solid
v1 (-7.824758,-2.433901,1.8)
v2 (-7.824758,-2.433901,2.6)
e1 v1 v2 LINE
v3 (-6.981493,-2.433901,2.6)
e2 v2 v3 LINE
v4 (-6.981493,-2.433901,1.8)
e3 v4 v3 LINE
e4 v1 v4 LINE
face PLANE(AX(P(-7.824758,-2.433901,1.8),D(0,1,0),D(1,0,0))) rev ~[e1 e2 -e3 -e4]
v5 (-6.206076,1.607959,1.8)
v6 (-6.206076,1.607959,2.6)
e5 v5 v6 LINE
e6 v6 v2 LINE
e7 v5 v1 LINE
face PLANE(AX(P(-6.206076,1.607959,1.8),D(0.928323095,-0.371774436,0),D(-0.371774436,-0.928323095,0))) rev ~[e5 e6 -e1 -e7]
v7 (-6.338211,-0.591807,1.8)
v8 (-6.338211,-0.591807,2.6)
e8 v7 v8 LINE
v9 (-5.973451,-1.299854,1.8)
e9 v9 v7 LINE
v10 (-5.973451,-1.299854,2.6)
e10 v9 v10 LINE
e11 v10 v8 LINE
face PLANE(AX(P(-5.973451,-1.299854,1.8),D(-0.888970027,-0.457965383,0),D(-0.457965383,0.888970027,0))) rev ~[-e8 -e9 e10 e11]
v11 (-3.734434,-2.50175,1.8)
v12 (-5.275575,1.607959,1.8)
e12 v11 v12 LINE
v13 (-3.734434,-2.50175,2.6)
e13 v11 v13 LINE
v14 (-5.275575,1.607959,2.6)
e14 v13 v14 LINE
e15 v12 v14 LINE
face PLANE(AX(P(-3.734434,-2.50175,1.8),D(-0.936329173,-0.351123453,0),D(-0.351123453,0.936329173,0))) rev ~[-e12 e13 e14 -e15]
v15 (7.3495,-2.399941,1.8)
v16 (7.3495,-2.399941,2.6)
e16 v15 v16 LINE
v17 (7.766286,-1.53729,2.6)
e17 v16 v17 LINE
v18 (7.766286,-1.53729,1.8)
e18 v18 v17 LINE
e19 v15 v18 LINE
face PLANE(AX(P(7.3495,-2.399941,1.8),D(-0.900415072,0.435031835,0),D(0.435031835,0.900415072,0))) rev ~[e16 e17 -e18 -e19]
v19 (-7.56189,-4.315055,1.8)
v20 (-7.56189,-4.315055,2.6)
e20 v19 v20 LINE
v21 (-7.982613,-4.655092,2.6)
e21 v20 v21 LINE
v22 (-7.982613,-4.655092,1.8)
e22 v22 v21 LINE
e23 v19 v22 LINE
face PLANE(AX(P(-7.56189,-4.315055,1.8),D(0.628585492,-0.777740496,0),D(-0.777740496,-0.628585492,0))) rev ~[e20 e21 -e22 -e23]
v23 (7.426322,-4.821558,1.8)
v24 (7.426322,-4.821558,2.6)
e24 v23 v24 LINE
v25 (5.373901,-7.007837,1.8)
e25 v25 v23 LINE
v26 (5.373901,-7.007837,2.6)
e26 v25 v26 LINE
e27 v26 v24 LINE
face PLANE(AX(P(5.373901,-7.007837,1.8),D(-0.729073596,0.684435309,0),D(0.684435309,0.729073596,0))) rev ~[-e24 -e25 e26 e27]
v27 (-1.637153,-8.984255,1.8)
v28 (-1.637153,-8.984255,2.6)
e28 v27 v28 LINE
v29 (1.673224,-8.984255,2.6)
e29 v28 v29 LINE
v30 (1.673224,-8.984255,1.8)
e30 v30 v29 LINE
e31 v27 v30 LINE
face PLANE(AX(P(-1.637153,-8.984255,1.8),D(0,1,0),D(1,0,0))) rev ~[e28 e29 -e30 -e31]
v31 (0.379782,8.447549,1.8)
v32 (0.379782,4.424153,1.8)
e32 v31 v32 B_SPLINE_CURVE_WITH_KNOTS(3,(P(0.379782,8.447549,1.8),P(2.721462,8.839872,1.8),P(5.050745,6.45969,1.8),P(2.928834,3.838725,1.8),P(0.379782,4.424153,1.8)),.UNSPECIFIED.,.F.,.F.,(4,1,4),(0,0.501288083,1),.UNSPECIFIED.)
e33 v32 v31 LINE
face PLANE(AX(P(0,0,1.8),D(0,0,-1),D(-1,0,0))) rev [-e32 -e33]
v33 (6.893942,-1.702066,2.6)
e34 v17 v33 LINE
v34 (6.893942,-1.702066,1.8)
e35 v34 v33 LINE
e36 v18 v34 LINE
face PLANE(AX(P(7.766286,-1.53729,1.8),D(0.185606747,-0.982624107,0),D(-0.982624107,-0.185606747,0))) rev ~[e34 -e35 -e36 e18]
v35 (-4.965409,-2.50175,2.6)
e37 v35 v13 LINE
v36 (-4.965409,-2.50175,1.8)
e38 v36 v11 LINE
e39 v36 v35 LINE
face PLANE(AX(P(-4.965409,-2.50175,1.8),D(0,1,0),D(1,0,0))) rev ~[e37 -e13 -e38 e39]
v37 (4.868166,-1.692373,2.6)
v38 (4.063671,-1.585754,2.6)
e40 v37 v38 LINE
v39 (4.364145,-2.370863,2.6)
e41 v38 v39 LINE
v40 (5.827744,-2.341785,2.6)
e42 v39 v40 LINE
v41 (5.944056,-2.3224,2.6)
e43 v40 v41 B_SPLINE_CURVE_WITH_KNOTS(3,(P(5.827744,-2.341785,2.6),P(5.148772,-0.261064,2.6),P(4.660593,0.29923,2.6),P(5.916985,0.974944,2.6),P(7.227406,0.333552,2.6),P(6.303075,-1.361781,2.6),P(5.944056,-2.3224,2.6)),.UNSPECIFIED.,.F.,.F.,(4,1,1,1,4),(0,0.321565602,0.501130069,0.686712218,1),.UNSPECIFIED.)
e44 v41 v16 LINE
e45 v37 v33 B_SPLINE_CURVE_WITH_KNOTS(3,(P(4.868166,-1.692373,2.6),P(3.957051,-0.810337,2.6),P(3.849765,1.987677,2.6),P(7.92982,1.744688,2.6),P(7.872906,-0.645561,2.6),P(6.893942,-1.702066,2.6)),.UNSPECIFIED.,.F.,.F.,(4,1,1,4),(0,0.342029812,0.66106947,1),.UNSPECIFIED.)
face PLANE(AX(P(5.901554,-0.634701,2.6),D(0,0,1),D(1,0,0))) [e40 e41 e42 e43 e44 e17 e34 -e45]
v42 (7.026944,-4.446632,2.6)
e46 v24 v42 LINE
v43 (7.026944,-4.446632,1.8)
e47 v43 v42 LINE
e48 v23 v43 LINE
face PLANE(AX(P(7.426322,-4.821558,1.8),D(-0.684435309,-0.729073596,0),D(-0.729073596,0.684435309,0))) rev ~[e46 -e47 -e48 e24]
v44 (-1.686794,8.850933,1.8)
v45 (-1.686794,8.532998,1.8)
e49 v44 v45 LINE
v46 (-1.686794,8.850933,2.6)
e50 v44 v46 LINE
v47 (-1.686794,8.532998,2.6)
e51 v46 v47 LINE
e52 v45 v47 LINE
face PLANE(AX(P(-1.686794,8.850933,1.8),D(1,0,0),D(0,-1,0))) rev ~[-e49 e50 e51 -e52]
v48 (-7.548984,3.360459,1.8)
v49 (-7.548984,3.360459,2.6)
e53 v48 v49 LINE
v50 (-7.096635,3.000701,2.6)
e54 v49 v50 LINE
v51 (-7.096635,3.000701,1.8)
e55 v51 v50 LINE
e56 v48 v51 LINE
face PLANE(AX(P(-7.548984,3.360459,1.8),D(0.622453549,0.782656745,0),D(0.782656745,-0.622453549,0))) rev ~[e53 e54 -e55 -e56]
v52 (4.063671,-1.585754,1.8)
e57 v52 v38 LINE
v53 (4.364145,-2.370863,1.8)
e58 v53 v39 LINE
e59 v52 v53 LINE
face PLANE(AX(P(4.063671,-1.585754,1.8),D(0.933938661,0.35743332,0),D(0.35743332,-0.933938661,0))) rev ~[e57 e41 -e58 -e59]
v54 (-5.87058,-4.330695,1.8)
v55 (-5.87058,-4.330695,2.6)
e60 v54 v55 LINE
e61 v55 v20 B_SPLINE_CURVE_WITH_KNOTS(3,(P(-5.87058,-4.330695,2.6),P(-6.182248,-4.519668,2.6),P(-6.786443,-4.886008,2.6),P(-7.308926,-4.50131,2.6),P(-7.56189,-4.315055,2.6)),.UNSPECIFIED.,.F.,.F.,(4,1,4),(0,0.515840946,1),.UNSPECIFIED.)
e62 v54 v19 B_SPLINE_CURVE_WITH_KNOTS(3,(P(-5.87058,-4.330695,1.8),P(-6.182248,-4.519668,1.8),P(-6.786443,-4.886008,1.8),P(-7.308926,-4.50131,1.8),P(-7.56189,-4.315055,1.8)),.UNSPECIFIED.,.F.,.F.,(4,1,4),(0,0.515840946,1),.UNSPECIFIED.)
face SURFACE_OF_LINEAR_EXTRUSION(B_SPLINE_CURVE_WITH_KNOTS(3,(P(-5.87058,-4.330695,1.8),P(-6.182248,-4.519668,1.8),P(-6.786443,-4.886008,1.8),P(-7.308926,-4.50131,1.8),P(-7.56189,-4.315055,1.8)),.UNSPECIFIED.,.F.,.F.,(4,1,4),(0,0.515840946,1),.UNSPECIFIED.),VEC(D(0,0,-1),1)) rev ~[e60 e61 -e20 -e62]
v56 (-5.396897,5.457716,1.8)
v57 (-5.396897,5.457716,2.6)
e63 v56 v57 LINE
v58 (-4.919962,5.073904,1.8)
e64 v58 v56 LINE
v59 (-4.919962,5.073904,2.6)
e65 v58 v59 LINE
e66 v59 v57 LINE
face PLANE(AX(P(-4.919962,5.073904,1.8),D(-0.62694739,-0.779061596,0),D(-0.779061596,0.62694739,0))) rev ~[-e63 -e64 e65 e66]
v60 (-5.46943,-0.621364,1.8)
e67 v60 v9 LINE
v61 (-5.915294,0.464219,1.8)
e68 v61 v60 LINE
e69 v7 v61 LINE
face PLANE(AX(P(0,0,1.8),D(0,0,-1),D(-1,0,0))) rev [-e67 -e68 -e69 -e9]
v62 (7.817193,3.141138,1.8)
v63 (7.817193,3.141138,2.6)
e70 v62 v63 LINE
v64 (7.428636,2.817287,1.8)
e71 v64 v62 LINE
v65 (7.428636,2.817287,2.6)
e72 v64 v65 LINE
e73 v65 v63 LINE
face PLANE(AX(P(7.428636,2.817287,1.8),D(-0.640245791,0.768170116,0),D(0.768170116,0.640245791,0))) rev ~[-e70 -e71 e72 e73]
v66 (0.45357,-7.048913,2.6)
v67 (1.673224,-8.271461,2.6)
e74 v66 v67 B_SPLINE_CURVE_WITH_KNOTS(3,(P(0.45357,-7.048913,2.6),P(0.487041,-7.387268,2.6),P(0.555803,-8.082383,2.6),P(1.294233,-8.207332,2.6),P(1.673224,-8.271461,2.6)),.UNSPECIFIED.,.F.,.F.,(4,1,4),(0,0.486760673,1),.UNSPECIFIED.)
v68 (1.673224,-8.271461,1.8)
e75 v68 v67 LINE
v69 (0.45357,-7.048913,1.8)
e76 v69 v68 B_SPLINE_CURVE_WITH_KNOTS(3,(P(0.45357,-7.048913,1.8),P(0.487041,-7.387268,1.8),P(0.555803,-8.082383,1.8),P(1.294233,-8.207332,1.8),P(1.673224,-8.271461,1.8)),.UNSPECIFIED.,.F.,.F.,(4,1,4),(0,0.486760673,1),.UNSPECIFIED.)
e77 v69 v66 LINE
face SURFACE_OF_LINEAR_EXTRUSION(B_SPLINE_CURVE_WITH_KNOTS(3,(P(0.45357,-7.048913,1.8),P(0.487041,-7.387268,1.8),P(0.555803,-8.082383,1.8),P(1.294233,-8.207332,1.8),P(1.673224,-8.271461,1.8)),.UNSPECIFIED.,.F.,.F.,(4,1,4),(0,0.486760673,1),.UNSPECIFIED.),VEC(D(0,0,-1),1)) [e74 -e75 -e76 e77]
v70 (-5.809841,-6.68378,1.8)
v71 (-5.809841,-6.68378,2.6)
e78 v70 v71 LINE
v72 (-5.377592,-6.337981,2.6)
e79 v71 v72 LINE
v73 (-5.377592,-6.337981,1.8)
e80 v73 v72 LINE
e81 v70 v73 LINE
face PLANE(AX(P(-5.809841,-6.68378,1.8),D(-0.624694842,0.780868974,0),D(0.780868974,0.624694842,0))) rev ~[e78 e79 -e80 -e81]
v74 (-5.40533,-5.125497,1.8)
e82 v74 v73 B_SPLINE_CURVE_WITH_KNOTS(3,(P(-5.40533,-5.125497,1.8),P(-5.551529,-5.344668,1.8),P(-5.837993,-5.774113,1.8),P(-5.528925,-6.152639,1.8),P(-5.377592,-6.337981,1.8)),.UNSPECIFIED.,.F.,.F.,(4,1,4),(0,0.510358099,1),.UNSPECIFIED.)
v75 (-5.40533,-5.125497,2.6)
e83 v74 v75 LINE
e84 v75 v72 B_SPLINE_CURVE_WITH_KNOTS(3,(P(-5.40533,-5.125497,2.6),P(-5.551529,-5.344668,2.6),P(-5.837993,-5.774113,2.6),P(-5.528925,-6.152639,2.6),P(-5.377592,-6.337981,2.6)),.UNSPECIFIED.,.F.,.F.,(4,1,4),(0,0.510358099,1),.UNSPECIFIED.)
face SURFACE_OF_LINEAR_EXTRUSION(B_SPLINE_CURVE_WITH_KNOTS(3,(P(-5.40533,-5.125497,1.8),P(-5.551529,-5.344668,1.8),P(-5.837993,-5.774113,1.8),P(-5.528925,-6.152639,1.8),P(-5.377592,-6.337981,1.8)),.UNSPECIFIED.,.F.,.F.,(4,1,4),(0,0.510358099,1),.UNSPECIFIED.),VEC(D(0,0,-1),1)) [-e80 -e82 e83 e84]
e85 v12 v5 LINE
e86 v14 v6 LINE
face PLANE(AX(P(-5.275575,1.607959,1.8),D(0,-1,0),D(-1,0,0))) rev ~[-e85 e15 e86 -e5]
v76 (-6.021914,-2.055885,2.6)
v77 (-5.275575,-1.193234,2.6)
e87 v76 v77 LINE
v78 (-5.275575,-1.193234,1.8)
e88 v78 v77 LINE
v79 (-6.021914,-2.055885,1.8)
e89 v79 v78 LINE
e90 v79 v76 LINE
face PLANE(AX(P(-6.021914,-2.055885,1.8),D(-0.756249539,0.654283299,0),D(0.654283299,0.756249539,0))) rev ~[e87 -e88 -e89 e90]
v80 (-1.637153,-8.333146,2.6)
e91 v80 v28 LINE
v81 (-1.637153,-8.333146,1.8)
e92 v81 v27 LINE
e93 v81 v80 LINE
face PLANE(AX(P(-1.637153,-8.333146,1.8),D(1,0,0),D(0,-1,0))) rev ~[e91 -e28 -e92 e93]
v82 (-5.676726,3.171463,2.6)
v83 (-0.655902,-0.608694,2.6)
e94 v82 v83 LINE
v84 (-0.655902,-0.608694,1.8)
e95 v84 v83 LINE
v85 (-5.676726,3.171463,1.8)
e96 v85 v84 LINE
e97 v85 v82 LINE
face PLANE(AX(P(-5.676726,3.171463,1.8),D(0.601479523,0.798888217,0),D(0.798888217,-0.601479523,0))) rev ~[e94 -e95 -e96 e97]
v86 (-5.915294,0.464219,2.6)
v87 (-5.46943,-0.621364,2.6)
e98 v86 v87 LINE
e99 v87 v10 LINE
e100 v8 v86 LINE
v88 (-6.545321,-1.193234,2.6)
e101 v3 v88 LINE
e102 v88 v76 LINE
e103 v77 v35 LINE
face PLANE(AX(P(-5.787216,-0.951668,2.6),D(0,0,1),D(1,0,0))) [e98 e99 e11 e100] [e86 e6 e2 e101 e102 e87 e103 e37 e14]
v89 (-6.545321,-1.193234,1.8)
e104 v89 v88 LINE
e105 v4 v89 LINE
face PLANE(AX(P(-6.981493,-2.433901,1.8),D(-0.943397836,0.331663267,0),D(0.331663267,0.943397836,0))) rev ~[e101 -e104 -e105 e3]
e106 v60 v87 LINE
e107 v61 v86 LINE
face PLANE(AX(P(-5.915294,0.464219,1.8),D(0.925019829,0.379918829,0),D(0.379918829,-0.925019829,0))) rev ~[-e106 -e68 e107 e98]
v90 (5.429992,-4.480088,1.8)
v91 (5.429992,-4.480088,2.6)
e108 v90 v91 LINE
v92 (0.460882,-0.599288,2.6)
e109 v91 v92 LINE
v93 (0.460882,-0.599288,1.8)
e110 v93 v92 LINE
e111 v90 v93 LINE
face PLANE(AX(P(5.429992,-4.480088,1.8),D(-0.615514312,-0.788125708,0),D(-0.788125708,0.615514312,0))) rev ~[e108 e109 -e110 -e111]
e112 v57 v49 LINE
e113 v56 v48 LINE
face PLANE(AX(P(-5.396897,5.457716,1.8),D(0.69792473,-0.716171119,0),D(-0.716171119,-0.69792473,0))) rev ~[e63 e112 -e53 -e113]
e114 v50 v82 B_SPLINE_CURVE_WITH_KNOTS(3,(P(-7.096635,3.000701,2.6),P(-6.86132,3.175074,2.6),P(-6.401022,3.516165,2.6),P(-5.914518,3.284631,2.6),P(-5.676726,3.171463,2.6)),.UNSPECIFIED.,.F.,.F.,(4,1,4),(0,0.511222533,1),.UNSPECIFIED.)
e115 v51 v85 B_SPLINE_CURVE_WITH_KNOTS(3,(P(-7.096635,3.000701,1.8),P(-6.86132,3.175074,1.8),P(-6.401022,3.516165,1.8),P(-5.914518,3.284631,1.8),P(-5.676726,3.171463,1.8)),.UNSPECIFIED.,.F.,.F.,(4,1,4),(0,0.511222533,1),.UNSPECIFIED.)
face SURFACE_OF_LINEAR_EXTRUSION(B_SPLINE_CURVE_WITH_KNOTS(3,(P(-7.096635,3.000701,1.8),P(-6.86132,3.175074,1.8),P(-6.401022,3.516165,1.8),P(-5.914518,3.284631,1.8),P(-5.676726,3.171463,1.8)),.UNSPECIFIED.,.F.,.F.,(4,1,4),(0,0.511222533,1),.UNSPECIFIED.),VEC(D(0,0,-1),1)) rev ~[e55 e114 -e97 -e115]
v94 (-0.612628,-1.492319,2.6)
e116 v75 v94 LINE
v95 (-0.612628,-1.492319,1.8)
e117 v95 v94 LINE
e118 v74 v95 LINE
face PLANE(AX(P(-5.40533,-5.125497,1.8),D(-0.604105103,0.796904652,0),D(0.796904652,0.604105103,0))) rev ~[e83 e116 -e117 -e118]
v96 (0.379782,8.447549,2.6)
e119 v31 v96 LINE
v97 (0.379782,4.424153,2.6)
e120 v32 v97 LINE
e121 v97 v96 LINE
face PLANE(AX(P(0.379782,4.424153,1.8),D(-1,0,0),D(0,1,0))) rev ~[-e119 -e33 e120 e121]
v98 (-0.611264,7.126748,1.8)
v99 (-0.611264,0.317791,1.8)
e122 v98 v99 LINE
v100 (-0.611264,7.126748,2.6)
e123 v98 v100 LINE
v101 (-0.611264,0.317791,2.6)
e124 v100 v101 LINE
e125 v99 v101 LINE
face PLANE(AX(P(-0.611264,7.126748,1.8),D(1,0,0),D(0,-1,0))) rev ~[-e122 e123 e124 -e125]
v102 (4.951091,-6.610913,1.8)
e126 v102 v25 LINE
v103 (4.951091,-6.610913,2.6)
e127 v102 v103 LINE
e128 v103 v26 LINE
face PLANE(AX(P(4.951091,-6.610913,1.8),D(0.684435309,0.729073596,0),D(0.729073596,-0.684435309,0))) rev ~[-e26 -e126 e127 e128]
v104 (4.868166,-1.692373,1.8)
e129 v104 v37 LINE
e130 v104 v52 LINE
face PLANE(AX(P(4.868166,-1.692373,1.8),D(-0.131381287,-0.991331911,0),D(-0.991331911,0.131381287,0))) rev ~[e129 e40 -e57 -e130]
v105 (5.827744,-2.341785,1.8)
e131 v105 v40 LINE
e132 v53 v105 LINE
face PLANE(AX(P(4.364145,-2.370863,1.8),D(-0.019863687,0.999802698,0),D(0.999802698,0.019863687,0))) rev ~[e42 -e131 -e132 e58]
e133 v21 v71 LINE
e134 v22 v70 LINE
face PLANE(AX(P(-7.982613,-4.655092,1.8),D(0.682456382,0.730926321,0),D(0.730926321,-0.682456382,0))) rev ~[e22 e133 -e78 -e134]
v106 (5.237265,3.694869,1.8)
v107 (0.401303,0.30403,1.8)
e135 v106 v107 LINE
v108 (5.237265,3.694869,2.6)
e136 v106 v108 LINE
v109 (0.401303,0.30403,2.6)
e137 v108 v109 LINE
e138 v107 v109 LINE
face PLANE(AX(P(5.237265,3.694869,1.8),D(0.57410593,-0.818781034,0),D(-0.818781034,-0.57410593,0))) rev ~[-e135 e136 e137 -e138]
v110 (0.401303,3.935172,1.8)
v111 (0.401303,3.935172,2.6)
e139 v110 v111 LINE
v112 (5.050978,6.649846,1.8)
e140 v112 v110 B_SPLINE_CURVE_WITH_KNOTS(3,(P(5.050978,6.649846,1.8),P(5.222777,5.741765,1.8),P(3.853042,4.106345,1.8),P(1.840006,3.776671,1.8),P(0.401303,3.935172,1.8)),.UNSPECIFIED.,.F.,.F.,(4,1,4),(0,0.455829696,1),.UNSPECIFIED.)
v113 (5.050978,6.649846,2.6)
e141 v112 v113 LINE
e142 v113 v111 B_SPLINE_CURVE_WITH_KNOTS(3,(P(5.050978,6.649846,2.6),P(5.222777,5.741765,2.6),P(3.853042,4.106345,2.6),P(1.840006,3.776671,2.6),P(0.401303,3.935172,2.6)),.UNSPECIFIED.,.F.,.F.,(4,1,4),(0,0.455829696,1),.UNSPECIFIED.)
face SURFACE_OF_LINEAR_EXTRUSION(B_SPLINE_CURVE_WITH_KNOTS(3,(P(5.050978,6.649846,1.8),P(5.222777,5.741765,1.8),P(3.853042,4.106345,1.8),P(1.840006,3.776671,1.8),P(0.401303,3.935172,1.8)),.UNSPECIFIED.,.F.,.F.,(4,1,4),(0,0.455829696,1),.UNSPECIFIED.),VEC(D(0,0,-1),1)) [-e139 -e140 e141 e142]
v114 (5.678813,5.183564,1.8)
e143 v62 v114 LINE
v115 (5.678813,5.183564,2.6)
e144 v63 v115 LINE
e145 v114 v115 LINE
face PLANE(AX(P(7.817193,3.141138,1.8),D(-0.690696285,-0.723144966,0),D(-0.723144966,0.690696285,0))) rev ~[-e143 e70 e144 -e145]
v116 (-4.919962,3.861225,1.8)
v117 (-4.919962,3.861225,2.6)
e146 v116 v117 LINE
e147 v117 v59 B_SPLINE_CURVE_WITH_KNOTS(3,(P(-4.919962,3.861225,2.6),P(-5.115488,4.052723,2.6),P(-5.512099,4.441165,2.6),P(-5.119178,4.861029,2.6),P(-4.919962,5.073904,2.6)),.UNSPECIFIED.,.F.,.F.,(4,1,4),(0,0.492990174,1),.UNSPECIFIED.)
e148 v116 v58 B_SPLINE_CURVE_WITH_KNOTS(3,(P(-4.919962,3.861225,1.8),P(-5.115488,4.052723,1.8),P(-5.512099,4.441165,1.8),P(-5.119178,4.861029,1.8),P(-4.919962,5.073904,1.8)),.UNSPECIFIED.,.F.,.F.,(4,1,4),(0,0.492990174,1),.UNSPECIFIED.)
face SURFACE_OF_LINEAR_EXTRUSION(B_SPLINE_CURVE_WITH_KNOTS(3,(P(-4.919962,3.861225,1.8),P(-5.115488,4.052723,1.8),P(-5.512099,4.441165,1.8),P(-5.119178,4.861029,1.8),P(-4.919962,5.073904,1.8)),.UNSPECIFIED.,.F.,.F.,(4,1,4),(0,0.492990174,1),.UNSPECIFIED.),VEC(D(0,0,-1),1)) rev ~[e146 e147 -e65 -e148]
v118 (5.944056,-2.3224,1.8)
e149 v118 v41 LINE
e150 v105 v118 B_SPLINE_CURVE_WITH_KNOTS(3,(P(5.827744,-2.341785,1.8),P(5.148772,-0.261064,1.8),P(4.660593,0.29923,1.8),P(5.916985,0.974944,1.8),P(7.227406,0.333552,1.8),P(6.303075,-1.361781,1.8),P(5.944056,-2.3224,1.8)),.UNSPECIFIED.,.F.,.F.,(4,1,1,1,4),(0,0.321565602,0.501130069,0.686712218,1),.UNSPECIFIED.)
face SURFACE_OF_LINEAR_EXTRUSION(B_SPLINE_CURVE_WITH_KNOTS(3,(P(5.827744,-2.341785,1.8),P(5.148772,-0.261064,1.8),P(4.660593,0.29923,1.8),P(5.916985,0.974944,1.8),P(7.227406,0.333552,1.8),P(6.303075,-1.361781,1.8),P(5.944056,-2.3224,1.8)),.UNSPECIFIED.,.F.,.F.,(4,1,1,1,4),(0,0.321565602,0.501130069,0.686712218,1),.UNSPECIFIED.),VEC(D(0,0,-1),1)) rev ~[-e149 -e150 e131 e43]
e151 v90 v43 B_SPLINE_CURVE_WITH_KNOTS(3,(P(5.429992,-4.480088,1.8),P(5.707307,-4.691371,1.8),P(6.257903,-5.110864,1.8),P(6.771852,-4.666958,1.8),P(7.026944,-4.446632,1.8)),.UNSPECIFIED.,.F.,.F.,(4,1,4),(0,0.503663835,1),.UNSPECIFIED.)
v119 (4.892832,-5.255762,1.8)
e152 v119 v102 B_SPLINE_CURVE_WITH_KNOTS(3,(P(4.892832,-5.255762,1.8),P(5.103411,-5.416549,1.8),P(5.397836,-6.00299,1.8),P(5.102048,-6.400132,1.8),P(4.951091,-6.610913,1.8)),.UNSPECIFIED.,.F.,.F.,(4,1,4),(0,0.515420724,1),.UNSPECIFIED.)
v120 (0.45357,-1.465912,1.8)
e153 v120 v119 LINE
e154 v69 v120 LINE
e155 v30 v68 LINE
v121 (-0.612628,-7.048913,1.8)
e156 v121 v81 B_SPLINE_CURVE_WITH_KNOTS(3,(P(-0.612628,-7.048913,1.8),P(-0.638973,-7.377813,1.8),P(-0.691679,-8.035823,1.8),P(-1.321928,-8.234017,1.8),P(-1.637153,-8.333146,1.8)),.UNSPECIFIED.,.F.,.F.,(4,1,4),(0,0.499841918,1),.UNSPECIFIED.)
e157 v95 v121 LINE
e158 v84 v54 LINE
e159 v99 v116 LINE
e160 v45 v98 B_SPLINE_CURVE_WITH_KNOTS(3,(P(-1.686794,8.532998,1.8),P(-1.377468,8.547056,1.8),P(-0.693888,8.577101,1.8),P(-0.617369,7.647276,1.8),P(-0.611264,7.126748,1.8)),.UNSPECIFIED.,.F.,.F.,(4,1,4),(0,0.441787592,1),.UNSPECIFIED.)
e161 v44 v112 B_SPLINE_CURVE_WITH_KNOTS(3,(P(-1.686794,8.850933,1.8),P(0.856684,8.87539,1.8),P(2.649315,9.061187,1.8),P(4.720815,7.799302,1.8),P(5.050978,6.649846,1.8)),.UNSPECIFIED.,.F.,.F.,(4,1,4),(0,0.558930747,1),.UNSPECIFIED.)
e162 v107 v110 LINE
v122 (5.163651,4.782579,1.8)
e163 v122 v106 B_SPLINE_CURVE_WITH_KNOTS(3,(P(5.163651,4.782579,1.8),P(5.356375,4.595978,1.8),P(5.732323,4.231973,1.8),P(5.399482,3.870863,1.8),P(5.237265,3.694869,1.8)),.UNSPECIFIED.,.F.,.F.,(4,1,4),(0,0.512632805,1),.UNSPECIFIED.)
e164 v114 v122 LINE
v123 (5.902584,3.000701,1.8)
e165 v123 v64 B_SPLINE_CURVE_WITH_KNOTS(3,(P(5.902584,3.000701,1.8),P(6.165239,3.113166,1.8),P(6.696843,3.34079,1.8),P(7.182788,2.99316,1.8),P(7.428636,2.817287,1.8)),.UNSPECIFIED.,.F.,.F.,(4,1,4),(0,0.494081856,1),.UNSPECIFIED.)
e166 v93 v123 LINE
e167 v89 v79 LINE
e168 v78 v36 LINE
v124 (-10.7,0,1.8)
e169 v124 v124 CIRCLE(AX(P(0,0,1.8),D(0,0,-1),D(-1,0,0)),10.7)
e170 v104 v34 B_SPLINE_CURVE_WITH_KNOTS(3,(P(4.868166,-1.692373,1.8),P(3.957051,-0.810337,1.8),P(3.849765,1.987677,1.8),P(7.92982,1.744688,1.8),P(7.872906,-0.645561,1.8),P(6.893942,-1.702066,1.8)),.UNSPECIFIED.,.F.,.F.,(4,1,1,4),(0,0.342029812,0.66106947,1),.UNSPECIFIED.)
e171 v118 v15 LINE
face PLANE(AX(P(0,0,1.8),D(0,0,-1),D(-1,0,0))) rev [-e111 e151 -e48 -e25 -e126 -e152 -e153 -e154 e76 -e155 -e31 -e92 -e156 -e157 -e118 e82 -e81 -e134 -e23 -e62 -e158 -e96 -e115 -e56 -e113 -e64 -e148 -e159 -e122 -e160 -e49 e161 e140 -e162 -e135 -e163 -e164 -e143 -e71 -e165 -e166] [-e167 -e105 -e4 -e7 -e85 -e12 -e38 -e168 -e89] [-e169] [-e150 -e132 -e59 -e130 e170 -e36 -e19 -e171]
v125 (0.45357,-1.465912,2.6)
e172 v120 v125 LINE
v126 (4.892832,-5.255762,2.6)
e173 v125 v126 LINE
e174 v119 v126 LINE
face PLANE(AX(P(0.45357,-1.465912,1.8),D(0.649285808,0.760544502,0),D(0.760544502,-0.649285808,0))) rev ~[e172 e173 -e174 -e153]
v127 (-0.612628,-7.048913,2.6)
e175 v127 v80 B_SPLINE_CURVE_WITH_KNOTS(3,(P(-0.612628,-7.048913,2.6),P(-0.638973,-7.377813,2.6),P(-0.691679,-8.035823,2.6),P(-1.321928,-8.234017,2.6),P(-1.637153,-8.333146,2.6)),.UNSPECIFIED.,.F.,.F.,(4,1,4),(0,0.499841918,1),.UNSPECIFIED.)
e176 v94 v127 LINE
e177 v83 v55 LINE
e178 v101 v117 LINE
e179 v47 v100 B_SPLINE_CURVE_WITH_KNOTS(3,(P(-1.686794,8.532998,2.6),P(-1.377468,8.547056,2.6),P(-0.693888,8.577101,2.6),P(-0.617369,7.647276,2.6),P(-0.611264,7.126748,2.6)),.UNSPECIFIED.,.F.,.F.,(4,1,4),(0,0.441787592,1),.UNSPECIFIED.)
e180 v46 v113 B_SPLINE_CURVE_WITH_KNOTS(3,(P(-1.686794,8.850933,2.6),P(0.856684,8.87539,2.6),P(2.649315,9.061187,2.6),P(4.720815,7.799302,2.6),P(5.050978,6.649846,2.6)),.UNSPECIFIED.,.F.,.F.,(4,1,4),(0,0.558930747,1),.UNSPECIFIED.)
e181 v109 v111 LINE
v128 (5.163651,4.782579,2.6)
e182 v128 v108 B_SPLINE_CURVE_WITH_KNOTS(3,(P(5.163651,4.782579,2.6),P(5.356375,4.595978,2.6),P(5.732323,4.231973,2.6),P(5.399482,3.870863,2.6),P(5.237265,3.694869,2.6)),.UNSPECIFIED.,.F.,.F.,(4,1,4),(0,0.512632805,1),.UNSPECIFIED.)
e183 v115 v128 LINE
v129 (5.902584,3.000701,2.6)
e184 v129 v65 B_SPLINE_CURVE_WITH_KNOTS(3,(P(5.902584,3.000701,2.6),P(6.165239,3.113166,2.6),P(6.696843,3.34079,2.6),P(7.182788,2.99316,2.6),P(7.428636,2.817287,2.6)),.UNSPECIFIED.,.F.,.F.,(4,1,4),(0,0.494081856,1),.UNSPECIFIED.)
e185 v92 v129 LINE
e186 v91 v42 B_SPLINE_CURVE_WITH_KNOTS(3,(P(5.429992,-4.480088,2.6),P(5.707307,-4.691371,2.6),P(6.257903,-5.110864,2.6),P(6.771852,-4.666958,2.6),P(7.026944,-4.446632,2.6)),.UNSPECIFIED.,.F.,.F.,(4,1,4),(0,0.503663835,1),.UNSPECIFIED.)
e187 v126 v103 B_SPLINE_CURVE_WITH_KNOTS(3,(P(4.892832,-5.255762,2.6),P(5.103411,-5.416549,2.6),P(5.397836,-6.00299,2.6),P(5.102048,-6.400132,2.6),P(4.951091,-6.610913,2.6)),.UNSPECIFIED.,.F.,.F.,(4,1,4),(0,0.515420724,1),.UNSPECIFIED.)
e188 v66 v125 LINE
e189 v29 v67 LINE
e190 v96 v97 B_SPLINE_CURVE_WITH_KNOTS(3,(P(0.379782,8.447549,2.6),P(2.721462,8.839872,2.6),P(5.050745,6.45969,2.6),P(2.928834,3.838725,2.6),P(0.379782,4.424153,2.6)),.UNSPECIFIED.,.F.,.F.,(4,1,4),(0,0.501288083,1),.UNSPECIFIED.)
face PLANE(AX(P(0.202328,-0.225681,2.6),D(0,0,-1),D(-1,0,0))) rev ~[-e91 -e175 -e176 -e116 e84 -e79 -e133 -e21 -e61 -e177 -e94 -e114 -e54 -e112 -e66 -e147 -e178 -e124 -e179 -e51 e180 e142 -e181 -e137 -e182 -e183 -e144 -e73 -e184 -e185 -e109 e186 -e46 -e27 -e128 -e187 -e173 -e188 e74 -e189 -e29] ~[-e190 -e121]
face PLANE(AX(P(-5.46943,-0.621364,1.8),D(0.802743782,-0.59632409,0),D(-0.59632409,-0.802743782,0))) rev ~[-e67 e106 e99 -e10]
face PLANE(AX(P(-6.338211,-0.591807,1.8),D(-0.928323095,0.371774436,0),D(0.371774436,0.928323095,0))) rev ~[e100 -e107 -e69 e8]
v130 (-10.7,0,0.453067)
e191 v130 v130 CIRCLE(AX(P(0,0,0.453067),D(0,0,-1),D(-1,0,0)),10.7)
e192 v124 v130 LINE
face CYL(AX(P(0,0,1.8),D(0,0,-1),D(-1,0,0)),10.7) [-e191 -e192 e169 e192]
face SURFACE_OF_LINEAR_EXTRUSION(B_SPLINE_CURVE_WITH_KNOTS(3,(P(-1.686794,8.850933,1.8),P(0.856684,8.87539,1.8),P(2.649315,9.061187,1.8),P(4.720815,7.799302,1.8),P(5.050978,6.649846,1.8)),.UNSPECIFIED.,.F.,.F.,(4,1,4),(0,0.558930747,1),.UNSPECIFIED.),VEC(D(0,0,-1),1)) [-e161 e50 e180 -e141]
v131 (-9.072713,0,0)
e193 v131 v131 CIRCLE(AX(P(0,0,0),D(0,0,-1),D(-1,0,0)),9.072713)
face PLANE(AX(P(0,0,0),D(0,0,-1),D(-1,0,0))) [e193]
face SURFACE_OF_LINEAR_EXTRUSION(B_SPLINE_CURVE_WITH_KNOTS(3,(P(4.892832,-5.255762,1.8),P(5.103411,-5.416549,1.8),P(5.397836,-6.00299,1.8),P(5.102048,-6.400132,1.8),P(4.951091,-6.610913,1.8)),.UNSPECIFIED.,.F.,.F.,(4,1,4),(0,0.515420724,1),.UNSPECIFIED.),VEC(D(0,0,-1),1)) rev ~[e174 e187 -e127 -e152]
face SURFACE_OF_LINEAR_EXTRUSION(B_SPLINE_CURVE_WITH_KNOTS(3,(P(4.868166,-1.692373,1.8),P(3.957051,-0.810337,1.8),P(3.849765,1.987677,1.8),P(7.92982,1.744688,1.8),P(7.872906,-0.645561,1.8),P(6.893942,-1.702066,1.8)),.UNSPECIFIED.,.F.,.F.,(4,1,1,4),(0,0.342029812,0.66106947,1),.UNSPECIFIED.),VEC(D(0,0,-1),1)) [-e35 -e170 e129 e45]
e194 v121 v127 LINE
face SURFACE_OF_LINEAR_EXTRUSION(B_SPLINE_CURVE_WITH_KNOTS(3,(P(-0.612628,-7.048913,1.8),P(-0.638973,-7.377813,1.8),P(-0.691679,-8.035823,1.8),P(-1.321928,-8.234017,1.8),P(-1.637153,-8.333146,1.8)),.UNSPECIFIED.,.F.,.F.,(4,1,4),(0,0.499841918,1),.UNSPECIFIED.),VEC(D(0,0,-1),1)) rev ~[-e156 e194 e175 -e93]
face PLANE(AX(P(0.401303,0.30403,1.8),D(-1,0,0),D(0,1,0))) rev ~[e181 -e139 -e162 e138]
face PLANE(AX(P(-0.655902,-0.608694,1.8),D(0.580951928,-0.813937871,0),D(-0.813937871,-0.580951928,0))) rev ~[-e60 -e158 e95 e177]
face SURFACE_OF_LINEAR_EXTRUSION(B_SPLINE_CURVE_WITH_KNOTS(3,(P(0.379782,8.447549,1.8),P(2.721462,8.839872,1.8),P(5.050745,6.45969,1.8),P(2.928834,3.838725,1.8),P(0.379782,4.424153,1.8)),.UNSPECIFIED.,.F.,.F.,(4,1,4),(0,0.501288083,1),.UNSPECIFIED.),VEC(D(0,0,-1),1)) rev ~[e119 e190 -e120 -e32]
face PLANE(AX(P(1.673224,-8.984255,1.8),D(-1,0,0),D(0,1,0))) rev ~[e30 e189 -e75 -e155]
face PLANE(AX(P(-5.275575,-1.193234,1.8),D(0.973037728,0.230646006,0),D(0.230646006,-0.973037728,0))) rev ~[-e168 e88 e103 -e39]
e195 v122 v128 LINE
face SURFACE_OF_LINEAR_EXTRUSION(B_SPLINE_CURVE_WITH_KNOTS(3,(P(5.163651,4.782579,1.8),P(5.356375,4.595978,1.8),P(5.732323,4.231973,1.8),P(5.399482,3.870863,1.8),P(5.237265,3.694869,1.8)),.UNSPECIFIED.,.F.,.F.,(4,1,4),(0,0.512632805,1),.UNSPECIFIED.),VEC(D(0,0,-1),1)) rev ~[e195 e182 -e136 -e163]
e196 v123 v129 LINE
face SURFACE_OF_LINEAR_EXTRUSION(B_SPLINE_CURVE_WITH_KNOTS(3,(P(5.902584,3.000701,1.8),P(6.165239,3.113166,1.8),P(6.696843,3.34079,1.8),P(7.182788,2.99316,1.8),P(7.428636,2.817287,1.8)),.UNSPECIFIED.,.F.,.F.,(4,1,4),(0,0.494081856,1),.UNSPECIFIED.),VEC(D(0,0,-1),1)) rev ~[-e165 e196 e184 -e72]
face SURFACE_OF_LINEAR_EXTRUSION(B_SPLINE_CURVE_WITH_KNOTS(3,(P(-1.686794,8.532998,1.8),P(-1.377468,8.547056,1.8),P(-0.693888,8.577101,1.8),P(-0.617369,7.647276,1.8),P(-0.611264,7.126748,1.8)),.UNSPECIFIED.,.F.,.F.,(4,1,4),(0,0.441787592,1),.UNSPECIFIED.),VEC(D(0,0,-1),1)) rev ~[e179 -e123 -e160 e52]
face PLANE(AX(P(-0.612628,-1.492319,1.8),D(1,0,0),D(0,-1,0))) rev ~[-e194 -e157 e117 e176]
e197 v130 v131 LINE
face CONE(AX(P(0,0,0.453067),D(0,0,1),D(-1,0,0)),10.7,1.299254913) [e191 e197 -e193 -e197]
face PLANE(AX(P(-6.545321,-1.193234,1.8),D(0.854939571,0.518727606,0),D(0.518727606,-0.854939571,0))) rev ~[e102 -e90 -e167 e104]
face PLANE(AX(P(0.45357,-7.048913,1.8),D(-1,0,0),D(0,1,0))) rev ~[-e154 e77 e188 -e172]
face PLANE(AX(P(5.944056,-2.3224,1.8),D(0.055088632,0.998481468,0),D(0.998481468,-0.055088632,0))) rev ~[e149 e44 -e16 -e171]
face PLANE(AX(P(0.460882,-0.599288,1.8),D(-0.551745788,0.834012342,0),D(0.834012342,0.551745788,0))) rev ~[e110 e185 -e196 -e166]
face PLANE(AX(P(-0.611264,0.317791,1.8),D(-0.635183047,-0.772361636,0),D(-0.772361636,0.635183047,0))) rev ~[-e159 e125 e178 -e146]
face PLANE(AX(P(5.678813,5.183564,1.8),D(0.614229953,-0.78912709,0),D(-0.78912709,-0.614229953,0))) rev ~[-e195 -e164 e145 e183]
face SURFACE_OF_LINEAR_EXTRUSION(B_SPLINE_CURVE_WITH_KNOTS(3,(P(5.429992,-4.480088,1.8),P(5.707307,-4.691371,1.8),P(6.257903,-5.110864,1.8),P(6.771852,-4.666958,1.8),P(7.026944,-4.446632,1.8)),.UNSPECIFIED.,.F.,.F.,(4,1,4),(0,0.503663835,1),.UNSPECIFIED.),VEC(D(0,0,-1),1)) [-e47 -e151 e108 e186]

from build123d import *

# Parameters (mm, degrees)
F3_DEPTH = 0.8


with BuildPart() as f1:
    # F0 (on Front) → F1 (revolve)
    with BuildSketch(Plane.XZ):
        Polygon((0, 1.8), (-10.7, 1.8), (-10.7, 0.4530665231), (-9.0727129846, 0), (0, 0), align=None)
    revolve(axis=Axis((0, 0, 1.1966938619), (0, 0, -1)))

    # F2 (on face) → F3 (join)
    with BuildSketch(Plane.XY.offset(1.8)):
        with BuildLine():
            add(Edge.make_bspline(
                [(-1.6867941013, 8.8509330526), (0.8566841716, 8.8753895834), (2.649315499, 9.0611870259), (4.7208145261, 7.7993022278), (5.050977692, 6.6498457454)],
                knots=[0, 0, 0, 0, 0.5589307471, 1, 1, 1, 1], degree=3))
            Line((-1.6867941013, 8.8509330526), (-1.6867941013, 8.5329981521))
            add(Edge.make_bspline(
                [(-1.6867941013, 8.5329981521), (-1.3774677293, 8.5470557254), (-0.6938875858, 8.5771007031), (-0.6173685214, 7.6472761807), (-0.6112642586, 7.1267476305)],
                knots=[0, 0, 0, 0, 0.441787592, 1, 1, 1, 1], degree=3))
            Line((-0.6112642586, 7.1267476305), (-0.6112642586, 0.3177910403))
            Line((-0.6112642586, 0.3177910403), (-4.9199624918, 3.8612245116))
            add(Edge.make_bspline(
                [(-4.9199624918, 3.8612245116), (-5.1154879855, 4.0527227146), (-5.5120993261, 4.4411649455), (-5.1191776451, 4.8610289061), (-4.9199624918, 5.0739040598)],
                knots=[0, 0, 0, 0, 0.4929901738, 1, 1, 1, 1], degree=3))
            Line((-4.9199624918, 5.0739040598), (-5.3968969733, 5.457715597))
            Line((-5.3968969733, 5.457715597), (-7.5489841402, 3.3604586497))
            Line((-7.5489841402, 3.3604586497), (-7.0966347121, 3.000701312))
            add(Edge.make_bspline(
                [(-7.0966347121, 3.000701312), (-6.8613198471, 3.1750743352), (-6.4010215426, 3.5161645889), (-5.9145178984, 3.2846312905), (-5.6767258793, 3.1714630313)],
                knots=[0, 0, 0, 0, 0.5112225325, 1, 1, 1, 1], degree=3))
            Line((-5.6767258793, 3.1714630313), (-0.6559019093, -0.6086938665))
            Line((-0.6559019093, -0.6086938665), (-5.8705802076, -4.3306946754))
            add(Edge.make_bspline(
                [(-5.8705802076, -4.3306946754), (-6.1822484494, -4.5196679636), (-6.7864429099, -4.8860081888), (-7.308925656, -4.5013103723), (-7.5618904084, -4.3150554411)],
                knots=[0, 0, 0, 0, 0.5158409455, 1, 1, 1, 1], degree=3))
            Line((-7.5618904084, -4.3150554411), (-7.9826125875, -4.6550915577))
            Line((-7.9826125875, -4.6550915577), (-5.8098412119, -6.6837798804))
            Line((-5.8098412119, -6.6837798804), (-5.3775920533, -6.3379807398))
            add(Edge.make_bspline(
                [(-5.4053300992, -5.1254965365), (-5.5515290524, -5.3446676224), (-5.8379925252, -5.7741133125), (-5.5289246402, -6.1526388002), (-5.3775920533, -6.3379807398)],
                knots=[0, 0, 0, 0, 0.5103580985, 1, 1, 1, 1], degree=3))
            Line((-5.4053300992, -5.1254965365), (-0.6126278895, -1.4923192712))
            Line((-0.6126278895, -1.4923192712), (-0.6126278895, -7.048912812))
            add(Edge.make_bspline(
                [(-0.6126278895, -7.048912812), (-0.6389726569, -7.377813444), (-0.6916788554, -8.0358227462), (-1.3219282839, -8.234017122), (-1.637152629, -8.3331456408)],
                knots=[0, 0, 0, 0, 0.4998419184, 1, 1, 1, 1], degree=3))
            Line((-1.637152629, -8.3331456408), (-1.637152629, -8.9842546731))
            Line((-1.637152629, -8.9842546731), (1.6732236836, -8.9842546731))
            Line((1.6732236836, -8.9842546731), (1.6732236836, -8.2714613527))
            add(Edge.make_bspline(
                [(0.4535702465, -7.048912812), (0.4870410433, -7.3872676951), (0.5558033707, -8.0823831835), (1.2942327078, -8.2073324667), (1.6732236836, -8.2714613527)],
                knots=[0, 0, 0, 0, 0.4867606733, 1, 1, 1, 1], degree=3))
            Line((0.4535702465, -7.048912812), (0.4535702465, -1.4659117442))
            Line((0.4535702465, -1.4659117442), (4.8928316683, -5.2557615563))
            add(Edge.make_bspline(
                [(4.8928316683, -5.2557615563), (5.103411153, -5.4165492766), (5.3978362889, -6.0029897915), (5.1020476496, -6.4001318691), (4.9510909234, -6.6109133504)],
                knots=[0, 0, 0, 0, 0.5154207237, 1, 1, 1, 1], degree=3))
            Line((4.9510909234, -6.6109133504), (5.3739010935, -7.0078365295))
            Line((5.3739010935, -7.0078365295), (7.4263224378, -4.8215580173))
            Line((7.4263224378, -4.8215580173), (7.0269443095, -4.4466322288))
            add(Edge.make_bspline(
                [(5.4299915209, -4.4800881296), (5.7073067114, -4.6913712485), (6.2579025081, -5.1108635847), (6.7718523941, -4.6669584172), (7.0269443095, -4.4466322288)],
                knots=[0, 0, 0, 0, 0.5036638351, 1, 1, 1, 1], degree=3))
            Line((5.4299915209, -4.4800881296), (0.4608821182, -0.5992884981))
            Line((0.4608821182, -0.5992884981), (5.9025837108, 3.000701312))
            add(Edge.make_bspline(
                [(5.9025837108, 3.000701312), (6.1652393352, 3.1131659914), (6.6968427958, 3.3407895685), (7.1827875665, 2.993159634), (7.4286358431, 2.8172873426)],
                knots=[0, 0, 0, 0, 0.4940818558, 1, 1, 1, 1], degree=3))
            Line((7.4286358431, 2.8172873426), (7.8171929345, 3.1411375385))
            Line((7.8171929345, 3.1411375385), (5.6788134389, 5.183564499))
            Line((5.6788134389, 5.183564499), (5.1636509597, 4.7825793736))
            add(Edge.make_bspline(
                [(5.1636509597, 4.7825793736), (5.3563745653, 4.5959784132), (5.7323232052, 4.2319733033), (5.3994815796, 3.8708627719), (5.23726549, 3.6948693451)],
                knots=[0, 0, 0, 0, 0.5126328046, 1, 1, 1, 1], degree=3))
            Line((5.23726549, 3.6948693451), (0.4013032594, 0.3040304291))
            Line((0.4013032594, 0.3040304291), (0.4013032594, 3.9351717569))
            add(Edge.make_bspline(
                [(5.050977692, 6.6498457454), (5.2227766775, 5.7417653934), (3.8530424976, 4.1063453678), (1.8400062355, 3.7766705272), (0.4013032594, 3.9351717569)],
                knots=[0, 0, 0, 0, 0.4558296962, 1, 1, 1, 1], degree=3))
        make_face()
        with BuildLine():
            Line((0.3797819663, 4.424153241), (0.3797819663, 8.4475489607))
            add(Edge.make_bspline(
                [(0.3797819663, 8.4475489607), (2.7214622988, 8.8398724894), (5.0507446574, 6.4596899692), (2.9288335052, 3.8387254341), (0.3797819663, 4.424153241)],
                knots=[0, 0, 0, 0, 0.5012880833, 1, 1, 1, 1], degree=3))
        make_face(mode=Mode.SUBTRACT)
        Polygon((-6.2060756609, 1.6079591587), (-7.8247580677, -2.4339009542), (-6.9814925082, -2.4339009542), (-6.5453206189, -1.1932341149), (-6.0219140723, -2.0558852702), (-5.2755754441, -1.1932341149), (-4.9654087052, -2.5017498992), (-3.7344344892, -2.5017498992), (-5.2755754441, 1.6079591587), align=None)
        Polygon((-6.3382112782, -0.5918067245), (-5.9152944013, 0.4642193671), (-5.4694297723, -0.6213641609), (-5.9734508395, -1.2998539023), align=None, mode=Mode.SUBTRACT)
        with BuildLine():
            Line((4.3641445227, -2.3708629888), (5.8277440257, -2.3417847697))
            add(Edge.make_bspline(
                [(5.8277440257, -2.3417847697), (5.1487722105, -0.2610644891), (4.6605925288, 0.2992301122), (5.9169845073, 0.9749441024), (7.2274061463, 0.3335519894), (6.3030754531, -1.3617813756), (5.9440564364, -2.3223995231)],
                knots=[0, 0, 0, 0, 0.3215656024, 0.5011300693, 0.686712218, 1, 1, 1, 1], degree=3))
            Line((5.9440564364, -2.3223995231), (7.3494995013, -2.3999412078))
            Line((7.3494995013, -2.3999412078), (7.7662859112, -1.5372899361))
            Line((7.7662859112, -1.5372899361), (6.8939416669, -1.7020660453))
            add(Edge.make_bspline(
                [(4.8681655899, -1.6923733056), (3.9570508525, -0.8103366708), (3.8497648676, 1.987677069), (7.9298202319, 1.7446883295), (7.8729055822, -0.6455606199), (6.8939416669, -1.7020660453)],
                knots=[0, 0, 0, 0, 0.3420298118, 0.6610694697, 1, 1, 1, 1], degree=3))
            Line((4.8681655899, -1.6923733056), (4.0636705235, -1.5857535182))
            Line((4.0636705235, -1.5857535182), (4.3641445227, -2.3708629888))
        make_face()
    extrude(amount=F3_DEPTH)


solid = f1.part
